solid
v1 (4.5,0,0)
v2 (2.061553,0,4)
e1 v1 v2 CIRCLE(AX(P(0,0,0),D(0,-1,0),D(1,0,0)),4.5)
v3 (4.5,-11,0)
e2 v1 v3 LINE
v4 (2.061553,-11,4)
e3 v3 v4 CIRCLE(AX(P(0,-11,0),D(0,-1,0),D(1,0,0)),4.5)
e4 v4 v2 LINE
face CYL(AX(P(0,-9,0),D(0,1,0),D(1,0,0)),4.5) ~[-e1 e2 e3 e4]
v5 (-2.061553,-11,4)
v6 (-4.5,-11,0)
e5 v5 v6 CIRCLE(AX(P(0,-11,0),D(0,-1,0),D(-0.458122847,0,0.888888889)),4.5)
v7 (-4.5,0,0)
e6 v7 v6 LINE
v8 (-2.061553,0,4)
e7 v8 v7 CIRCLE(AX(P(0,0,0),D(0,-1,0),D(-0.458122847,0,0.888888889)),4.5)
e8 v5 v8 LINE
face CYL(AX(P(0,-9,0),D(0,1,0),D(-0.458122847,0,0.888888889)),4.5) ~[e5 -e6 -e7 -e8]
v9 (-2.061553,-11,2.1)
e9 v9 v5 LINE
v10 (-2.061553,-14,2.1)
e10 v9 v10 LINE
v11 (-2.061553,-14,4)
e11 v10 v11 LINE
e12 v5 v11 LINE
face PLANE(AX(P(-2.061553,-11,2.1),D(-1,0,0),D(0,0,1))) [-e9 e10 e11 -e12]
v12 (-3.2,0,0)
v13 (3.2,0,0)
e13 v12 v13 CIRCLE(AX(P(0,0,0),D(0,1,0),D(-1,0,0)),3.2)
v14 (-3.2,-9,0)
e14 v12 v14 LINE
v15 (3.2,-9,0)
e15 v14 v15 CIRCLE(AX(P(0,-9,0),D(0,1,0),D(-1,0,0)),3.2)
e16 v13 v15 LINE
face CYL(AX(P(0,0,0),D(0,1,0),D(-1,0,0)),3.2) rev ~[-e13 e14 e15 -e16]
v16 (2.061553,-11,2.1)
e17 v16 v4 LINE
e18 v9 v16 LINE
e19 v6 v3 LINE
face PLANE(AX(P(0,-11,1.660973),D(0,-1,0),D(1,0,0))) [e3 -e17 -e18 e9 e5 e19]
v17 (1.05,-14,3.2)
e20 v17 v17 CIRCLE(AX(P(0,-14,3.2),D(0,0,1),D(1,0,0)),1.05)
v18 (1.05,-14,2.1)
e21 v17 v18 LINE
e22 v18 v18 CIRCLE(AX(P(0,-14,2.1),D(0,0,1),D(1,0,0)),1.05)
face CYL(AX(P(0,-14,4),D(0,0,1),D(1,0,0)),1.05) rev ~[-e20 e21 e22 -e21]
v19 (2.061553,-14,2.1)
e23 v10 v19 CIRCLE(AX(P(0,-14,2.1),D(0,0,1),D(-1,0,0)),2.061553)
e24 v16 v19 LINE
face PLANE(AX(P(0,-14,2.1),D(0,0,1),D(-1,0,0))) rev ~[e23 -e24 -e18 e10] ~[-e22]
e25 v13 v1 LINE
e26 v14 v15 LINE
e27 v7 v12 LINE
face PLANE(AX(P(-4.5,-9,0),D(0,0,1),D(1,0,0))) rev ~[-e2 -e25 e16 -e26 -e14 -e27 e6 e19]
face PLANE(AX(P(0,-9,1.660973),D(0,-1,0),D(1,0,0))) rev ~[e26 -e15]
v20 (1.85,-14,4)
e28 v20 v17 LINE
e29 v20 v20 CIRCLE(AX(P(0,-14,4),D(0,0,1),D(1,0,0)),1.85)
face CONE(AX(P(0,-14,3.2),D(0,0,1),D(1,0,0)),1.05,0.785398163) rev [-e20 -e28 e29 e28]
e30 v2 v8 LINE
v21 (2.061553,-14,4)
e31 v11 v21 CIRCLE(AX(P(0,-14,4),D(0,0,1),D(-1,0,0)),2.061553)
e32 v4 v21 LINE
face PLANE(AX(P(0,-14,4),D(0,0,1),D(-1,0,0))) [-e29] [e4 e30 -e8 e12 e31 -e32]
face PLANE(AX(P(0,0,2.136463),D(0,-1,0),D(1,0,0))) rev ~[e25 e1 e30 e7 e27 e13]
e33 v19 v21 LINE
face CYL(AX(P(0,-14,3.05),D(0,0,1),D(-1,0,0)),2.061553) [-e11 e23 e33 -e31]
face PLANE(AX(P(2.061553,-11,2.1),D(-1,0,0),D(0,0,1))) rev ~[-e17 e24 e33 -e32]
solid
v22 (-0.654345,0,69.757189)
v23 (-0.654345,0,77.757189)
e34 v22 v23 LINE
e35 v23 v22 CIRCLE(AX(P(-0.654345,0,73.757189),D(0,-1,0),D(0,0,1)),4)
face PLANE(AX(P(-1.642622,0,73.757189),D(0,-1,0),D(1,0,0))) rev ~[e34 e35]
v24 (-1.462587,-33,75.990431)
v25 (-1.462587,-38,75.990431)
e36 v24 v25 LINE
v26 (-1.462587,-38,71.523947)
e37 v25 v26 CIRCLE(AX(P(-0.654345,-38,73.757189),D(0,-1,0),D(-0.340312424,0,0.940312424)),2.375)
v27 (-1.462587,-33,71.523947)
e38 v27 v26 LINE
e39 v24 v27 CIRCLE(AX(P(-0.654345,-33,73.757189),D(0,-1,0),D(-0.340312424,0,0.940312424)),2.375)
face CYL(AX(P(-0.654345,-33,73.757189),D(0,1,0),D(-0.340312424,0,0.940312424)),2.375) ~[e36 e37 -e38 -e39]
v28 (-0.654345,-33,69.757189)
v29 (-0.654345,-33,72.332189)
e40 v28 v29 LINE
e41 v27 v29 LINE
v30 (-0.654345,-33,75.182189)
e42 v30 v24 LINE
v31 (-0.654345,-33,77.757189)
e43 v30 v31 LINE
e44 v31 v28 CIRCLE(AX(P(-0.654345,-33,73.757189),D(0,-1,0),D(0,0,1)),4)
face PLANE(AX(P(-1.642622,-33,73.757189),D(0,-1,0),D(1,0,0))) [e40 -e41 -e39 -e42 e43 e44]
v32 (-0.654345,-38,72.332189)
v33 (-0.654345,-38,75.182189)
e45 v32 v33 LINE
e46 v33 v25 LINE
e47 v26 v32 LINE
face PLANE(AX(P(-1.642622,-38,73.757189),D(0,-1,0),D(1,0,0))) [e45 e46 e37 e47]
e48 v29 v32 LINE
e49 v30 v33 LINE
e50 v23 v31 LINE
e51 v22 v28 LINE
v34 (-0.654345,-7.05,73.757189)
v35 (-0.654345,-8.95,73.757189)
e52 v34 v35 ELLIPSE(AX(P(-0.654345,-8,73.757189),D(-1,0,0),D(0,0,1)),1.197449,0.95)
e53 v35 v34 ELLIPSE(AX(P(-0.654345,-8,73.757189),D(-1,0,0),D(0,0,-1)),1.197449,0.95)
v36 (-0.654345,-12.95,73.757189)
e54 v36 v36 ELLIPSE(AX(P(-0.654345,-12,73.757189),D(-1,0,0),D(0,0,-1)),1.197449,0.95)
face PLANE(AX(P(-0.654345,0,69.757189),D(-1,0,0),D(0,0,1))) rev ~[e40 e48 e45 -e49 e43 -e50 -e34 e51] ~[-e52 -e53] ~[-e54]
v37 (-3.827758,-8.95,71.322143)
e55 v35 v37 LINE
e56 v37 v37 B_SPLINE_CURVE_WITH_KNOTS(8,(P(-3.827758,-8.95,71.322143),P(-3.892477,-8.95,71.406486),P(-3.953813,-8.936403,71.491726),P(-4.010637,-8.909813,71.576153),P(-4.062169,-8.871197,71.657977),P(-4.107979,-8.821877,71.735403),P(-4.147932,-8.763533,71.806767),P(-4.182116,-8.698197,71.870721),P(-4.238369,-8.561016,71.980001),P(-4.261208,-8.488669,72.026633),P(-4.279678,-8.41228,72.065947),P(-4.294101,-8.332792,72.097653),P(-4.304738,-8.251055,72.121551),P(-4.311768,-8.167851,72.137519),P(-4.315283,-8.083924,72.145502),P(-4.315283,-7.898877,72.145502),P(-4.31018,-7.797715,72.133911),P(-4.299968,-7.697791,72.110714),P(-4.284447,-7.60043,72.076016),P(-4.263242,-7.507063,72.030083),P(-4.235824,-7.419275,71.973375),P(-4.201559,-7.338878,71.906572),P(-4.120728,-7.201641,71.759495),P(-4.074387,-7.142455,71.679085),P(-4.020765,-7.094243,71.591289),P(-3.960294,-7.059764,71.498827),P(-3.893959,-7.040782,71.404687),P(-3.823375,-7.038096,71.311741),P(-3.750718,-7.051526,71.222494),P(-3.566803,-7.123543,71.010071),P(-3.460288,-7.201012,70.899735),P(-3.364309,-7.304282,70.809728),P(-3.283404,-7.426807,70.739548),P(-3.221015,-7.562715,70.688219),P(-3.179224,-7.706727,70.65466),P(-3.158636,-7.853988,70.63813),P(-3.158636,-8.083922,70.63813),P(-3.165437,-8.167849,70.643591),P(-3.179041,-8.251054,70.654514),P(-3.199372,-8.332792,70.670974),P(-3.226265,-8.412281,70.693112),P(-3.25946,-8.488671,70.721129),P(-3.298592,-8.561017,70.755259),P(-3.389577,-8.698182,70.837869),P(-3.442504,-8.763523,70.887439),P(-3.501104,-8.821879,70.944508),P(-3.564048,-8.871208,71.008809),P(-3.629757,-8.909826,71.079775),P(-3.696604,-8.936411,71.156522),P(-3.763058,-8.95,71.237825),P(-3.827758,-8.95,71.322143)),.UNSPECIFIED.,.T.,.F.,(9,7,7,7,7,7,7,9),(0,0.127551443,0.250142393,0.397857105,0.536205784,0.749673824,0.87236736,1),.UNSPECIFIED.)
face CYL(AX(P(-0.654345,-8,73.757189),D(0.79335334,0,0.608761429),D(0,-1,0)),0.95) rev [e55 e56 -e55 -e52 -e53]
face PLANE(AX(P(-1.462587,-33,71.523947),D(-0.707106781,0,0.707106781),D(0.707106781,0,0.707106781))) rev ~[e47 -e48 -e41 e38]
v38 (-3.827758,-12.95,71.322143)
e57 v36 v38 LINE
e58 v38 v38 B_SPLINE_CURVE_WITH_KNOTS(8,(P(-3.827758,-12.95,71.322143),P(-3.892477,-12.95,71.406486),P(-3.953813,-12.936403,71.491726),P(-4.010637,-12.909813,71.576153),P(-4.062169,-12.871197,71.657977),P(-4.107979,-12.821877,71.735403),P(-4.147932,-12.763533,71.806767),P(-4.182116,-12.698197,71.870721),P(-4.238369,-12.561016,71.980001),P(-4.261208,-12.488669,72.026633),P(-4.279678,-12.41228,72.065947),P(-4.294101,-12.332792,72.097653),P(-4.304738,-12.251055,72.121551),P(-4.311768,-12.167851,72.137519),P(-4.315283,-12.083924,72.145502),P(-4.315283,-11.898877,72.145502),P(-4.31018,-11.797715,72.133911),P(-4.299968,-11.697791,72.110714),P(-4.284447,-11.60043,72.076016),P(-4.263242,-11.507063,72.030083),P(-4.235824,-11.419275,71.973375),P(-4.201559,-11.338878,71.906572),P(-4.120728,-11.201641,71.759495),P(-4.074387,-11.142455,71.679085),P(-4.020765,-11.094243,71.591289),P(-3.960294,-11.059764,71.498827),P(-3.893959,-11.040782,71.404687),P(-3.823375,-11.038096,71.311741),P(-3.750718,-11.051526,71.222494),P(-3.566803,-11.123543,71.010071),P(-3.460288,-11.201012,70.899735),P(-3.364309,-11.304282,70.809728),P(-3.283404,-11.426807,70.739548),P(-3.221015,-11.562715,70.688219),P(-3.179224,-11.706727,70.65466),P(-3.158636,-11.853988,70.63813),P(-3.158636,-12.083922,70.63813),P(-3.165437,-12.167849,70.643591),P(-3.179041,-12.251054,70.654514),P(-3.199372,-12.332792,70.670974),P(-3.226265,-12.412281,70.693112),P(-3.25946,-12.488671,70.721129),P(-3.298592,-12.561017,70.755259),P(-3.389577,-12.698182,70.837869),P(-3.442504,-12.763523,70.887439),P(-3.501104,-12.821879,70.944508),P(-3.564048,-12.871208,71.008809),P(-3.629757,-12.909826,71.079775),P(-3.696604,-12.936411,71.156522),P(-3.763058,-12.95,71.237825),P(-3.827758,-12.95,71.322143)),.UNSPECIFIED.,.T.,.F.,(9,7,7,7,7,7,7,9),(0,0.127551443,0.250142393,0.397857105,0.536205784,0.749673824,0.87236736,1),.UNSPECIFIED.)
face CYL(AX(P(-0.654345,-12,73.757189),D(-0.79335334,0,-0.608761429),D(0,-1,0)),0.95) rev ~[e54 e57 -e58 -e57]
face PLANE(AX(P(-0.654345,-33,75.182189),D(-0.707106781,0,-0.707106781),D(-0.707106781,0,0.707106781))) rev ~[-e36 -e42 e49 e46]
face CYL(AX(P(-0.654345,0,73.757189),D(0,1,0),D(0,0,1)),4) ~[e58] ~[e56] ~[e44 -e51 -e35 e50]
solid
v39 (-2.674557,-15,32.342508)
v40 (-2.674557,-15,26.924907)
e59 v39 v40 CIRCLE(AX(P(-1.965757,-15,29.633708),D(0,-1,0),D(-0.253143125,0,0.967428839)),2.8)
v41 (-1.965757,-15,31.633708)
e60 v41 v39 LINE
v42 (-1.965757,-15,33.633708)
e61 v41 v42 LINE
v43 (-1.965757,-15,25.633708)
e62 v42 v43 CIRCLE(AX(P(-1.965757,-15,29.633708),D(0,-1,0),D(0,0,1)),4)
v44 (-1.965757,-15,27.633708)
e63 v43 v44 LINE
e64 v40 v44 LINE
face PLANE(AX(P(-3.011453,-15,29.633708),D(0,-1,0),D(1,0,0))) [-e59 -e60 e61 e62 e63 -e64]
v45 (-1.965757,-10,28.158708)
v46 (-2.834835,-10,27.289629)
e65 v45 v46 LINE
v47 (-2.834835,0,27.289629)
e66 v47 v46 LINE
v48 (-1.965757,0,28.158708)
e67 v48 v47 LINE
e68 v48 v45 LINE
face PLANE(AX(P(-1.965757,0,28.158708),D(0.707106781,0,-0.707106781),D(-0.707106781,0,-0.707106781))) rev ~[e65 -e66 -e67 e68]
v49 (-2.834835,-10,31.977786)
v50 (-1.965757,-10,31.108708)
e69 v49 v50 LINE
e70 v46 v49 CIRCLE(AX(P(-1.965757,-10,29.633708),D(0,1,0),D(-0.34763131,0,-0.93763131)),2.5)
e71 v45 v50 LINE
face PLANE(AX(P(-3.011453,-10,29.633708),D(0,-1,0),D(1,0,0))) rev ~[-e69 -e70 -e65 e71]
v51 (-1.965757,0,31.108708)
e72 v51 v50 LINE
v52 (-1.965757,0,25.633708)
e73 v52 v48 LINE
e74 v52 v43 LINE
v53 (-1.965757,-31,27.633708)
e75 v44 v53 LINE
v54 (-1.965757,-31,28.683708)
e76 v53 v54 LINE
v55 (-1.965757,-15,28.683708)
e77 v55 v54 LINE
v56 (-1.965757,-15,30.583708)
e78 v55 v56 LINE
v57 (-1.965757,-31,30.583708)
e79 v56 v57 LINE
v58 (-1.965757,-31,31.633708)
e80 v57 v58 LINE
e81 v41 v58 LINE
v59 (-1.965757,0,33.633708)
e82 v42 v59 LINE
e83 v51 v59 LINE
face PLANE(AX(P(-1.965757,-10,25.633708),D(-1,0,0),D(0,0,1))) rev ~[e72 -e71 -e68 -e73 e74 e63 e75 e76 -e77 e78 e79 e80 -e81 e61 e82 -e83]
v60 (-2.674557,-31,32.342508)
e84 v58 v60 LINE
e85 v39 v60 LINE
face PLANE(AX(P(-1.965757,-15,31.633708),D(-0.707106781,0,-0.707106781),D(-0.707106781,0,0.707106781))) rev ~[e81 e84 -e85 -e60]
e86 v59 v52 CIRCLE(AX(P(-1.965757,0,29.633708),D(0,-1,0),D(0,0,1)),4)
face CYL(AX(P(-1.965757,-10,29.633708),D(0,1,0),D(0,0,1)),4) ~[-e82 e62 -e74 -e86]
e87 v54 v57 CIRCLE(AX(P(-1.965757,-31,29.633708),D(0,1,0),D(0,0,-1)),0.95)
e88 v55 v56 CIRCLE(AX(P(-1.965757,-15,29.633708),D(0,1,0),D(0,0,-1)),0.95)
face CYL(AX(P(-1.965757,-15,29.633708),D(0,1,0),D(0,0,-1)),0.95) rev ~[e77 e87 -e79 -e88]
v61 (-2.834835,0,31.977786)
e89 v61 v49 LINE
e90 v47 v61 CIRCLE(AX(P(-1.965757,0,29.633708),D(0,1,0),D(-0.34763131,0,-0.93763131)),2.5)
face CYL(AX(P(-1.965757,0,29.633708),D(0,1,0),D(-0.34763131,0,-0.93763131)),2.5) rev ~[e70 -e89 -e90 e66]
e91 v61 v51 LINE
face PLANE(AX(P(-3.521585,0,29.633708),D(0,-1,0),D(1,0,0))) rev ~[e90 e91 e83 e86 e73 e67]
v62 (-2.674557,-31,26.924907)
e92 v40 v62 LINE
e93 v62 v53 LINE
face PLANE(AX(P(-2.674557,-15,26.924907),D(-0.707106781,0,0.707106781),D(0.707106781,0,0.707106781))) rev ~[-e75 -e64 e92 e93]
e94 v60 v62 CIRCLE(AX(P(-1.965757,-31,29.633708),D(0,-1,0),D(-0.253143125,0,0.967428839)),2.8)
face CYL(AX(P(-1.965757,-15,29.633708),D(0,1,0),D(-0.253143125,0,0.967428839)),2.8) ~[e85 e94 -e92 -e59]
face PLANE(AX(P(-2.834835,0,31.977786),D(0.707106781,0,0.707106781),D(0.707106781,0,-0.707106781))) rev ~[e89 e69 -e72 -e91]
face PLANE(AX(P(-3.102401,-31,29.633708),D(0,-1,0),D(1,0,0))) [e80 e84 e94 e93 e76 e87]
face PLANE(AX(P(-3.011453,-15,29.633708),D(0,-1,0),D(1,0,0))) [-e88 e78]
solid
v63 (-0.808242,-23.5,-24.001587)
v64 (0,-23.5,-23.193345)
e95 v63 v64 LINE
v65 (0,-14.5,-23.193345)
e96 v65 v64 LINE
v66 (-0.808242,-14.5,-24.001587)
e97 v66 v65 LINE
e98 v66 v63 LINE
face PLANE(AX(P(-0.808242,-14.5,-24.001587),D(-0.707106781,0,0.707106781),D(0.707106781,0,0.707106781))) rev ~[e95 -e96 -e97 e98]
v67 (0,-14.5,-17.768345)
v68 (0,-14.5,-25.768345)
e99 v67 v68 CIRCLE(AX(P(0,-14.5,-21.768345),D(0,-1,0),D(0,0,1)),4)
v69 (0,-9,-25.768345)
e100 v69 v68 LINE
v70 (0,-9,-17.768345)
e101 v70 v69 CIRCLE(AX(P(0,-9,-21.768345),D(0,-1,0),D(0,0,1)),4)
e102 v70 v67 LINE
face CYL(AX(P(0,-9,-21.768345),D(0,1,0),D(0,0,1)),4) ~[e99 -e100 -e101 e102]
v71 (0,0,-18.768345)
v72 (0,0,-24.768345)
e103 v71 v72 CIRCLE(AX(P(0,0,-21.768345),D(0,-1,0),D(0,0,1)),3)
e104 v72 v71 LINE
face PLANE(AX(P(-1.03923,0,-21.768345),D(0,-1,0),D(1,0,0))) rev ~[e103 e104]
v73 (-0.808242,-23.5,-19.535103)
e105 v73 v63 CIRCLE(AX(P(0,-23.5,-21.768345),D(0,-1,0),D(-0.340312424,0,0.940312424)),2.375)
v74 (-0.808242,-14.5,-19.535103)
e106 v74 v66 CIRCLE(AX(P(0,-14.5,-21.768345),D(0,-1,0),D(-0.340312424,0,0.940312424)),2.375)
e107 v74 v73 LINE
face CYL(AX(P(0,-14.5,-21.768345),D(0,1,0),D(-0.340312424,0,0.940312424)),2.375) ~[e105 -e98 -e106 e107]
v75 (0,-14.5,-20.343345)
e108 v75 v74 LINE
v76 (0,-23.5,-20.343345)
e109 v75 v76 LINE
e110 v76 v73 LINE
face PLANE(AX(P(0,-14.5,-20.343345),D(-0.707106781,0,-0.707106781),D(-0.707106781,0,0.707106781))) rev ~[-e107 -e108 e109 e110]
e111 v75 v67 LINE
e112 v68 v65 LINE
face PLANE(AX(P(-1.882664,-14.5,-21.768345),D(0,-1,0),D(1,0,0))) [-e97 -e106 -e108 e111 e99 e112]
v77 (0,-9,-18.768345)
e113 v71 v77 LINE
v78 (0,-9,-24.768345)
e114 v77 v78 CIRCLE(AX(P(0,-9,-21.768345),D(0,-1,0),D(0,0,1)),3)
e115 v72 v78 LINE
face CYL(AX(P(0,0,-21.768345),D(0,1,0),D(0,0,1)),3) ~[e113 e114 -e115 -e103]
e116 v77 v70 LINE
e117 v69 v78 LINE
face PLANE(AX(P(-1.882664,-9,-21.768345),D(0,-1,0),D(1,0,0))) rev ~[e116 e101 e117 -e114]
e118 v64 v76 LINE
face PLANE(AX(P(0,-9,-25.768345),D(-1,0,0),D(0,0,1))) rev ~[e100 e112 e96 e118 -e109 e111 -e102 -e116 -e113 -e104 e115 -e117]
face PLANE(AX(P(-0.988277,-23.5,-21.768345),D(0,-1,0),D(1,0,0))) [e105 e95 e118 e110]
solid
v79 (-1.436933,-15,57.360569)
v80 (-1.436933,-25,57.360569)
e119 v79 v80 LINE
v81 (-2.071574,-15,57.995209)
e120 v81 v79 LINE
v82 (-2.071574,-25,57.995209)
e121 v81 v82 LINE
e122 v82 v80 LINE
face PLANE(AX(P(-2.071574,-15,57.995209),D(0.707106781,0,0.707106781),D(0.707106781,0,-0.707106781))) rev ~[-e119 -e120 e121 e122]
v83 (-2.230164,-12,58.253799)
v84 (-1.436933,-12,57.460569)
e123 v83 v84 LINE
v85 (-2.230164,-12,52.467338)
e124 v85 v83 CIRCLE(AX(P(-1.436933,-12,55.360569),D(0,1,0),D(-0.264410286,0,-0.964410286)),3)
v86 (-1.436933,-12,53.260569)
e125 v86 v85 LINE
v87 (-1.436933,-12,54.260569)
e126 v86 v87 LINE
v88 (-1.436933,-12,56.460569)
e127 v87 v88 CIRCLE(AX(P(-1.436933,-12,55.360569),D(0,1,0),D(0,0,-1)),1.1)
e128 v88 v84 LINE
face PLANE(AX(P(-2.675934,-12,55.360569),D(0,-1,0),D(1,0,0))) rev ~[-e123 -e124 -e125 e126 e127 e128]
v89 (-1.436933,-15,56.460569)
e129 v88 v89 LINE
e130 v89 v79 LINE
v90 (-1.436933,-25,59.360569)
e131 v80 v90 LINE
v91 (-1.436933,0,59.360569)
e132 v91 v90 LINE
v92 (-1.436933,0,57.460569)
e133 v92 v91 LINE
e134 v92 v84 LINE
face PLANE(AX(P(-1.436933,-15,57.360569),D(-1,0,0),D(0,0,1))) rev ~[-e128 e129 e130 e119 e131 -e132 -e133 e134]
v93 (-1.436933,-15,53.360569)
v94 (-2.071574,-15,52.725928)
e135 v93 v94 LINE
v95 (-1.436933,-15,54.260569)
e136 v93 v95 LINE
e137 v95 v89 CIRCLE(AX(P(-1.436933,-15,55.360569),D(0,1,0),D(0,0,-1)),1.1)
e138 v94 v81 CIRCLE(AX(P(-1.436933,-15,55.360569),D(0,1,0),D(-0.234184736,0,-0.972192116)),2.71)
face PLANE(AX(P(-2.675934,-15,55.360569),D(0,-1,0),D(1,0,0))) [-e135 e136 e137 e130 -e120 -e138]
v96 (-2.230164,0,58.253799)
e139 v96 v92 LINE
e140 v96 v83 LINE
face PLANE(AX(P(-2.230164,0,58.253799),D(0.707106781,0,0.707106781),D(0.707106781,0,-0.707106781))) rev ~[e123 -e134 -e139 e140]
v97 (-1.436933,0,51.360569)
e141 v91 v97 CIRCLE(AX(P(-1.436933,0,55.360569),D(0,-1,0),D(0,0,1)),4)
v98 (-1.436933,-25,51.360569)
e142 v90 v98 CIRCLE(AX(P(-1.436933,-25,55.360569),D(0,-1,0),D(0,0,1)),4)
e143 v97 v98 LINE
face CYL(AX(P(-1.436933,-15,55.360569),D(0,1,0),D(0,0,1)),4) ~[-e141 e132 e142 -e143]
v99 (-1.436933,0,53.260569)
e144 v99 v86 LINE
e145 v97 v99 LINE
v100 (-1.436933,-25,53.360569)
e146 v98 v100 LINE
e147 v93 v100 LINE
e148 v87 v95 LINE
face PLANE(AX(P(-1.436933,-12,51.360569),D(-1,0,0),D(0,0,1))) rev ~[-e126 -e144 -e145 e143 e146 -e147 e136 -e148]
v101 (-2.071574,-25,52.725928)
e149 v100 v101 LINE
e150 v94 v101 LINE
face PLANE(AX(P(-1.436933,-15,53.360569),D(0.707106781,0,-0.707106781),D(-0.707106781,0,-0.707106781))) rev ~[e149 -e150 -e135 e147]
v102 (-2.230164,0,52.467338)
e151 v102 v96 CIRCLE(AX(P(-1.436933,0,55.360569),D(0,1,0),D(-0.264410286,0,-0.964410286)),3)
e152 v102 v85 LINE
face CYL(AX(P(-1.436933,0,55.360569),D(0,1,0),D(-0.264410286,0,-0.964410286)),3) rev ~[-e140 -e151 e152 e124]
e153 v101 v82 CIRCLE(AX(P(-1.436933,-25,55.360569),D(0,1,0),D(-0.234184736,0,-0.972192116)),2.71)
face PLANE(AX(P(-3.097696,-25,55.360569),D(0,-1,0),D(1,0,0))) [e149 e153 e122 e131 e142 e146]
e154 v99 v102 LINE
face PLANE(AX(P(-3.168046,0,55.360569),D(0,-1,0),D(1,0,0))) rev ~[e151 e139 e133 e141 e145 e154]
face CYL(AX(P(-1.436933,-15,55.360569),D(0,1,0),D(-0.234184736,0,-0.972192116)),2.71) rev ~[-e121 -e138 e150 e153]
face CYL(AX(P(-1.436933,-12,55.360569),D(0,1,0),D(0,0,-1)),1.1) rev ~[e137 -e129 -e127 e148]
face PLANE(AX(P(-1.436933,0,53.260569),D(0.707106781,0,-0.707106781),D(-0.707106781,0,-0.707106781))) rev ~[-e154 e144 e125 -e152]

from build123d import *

# Parameters (mm, degrees)
F1_DEPTH      = 9
F3_DEPTH      = 2
F4_W          = 4.1231056256
F4_H          = 1.9
F5_DEPTH      = 3
F6_W          = 2.0615528128
F6_H          = 1.9
F8_R          = 1.05
F9_DEPTH      = 2
F9_DEPTH_BACK = 25
F11_DEPTH     = 9
F13_DEPTH     = 5.5
F15_DEPTH     = 9
F17_DEPTH     = 10
F19_DEPTH     = 5
F21_DEPTH     = 16
F23_DEPTH     = 12
F25_DEPTH     = 3
F27_DEPTH     = 10
F29_DEPTH     = 33
F31_DEPTH     = 5
F32_SIZE      = 0.8
F35_R         = 0.95
F36_DEPTH     = 12.5


with BuildPart() as f1:
    # F0 (on Front) → F1 (new body)
    with BuildSketch(Plane.XZ):
        with BuildLine():
            Line((2.0615528128, 4), (0, 4))
            Line((0, 4), (-2.0615528128, 4))
            ThreePointArc((-2.0615528128, 4), (-3.8423292192, 2.3423292192), (-4.5, 0))
            Line((-4.5, 0), (-3.2, 0))
            ThreePointArc((-3.2, 0), (0, 3.2), (3.2, 0))
            Line((3.2, 0), (4.5, 0))
            ThreePointArc((4.5, 0), (3.8423292192, 2.3423292192), (2.0615528128, 4))
        make_face()
    extrude(amount=F1_DEPTH)

    # F2 (on face) → F3 (join)
    with BuildSketch(Plane.XZ.offset(9)):
        with BuildLine():
            ThreePointArc((-2.0615528128, 4), (-3.8423292192, 2.3423292192), (-4.5, 0))
            Line((-4.5, 0), (4.5, 0))
            ThreePointArc((4.5, 0), (3.8423292192, 2.3423292192), (2.0615528128, 4))
            Line((2.0615528128, 4), (-2.0615528128, 4))
        make_face()
    extrude(amount=F3_DEPTH)

    # F4 (on face) → F5 (join)
    with BuildSketch(Plane.XZ.offset(11)):
        with Locations((0, 3.05)):
            Rectangle(F4_W, F4_H)
    extrude(amount=F5_DEPTH)

    # F6 (on face) → F7 (revolve)
    with BuildSketch(Plane.XZ.offset(14)):
        with Locations((-1.0307764064, 3.05)):
            Rectangle(F6_W, F6_H)
    revolve(axis=Axis((0, -14, 3.05), (0, 0, 1)))

    # F8 (on face) → F9 (cut, two sides)
    with BuildSketch(Plane.XY.offset(4)) as f9_sk:
        with Locations((0, -14)):
            Circle(F8_R)
    extrude(amount=-F9_DEPTH, mode=Mode.SUBTRACT)
    extrude(f9_sk.sketch, amount=F9_DEPTH_BACK, mode=Mode.SUBTRACT)

    # F32
    f32_edges = [f1.edges().sort_by_distance(p)[0] for p in [
        (-1.05, -14, 4),
    ]]
    chamfer(f32_edges, length=F32_SIZE)


with BuildPart() as f11:
    # F10 (on Front) → F11 (new body)
    with BuildSketch(Plane.XZ):
        with BuildLine():
            ThreePointArc((0, -18.768345058), (-3, -21.768345058), (0, -24.768345058))
            Line((0, -24.768345058), (0, -18.768345058))
        make_face()
    extrude(amount=F11_DEPTH)

    # F12 (on face) → F13 (join)
    with BuildSketch(Plane.XZ.offset(9)):
        with BuildLine():
            Line((0, -18.768345058), (0, -17.768345058))
            ThreePointArc((0, -17.768345058), (-4, -21.768345058), (0, -25.768345058))
            Line((0, -25.768345058), (0, -24.768345058))
            ThreePointArc((0, -24.768345058), (-3, -21.768345058), (0, -18.768345058))
        make_face()
        with BuildLine():
            Line((0, -24.768345058), (0, -18.768345058))
            ThreePointArc((0, -18.768345058), (-3, -21.768345058), (0, -24.768345058))
        make_face()
    extrude(amount=F13_DEPTH)

    # F14 (on face) → F15 (join)
    with BuildSketch(Plane.XZ.offset(14.5)):
        with BuildLine():
            Line((0, -23.193345058), (0, -21.768345058))
            Line((0, -21.768345058), (0, -20.343345058))
            Line((0, -20.343345058), (-0.8082420064, -19.5351030516))
            ThreePointArc((-0.8082420064, -19.5351030516), (-2.375, -21.768345058), (-0.8082420064, -24.0015870644))
            Line((-0.8082420064, -24.0015870644), (0, -23.193345058))
        make_face()
    extrude(amount=F15_DEPTH)


with BuildPart() as f17:
    # F16 (on Front) → F17 (new body)
    with BuildSketch(Plane.XZ):
        with BuildLine():
            Line((-1.9657567435, 28.1587075442), (-2.8348350173, 27.2896292704))
            ThreePointArc((-2.8348350173, 27.2896292704), (-4.4657567435, 29.6337075442), (-2.8348350173, 31.9777858181))
            Line((-2.8348350173, 31.9777858181), (-1.9657567435, 31.1087075442))
            Line((-1.9657567435, 31.1087075442), (-1.9657567435, 33.6337075442))
            ThreePointArc((-1.9657567435, 33.6337075442), (-5.9657567435, 29.6337075442), (-1.9657567435, 25.6337075442))
            Line((-1.9657567435, 25.6337075442), (-1.9657567435, 28.1587075442))
        make_face()
    extrude(amount=F17_DEPTH)

    # F18 (on face) → F19 (join)
    with BuildSketch(Plane.XZ.offset(10)):
        with BuildLine():
            Line((-2.8348350173, 27.2896292704), (-1.9657567435, 28.1587075442))
            Line((-1.9657567435, 28.1587075442), (-1.9657567435, 31.1087075442))
            Line((-1.9657567435, 31.1087075442), (-2.8348350173, 31.9777858181))
            ThreePointArc((-2.8348350173, 31.9777858181), (-4.4657567435, 29.6337075442), (-2.8348350173, 27.2896292704))
        make_face()
        with BuildLine():
            Line((-1.9657567435, 25.6337075442), (-1.9657567435, 28.1587075442))
            Line((-1.9657567435, 28.1587075442), (-2.8348350173, 27.2896292704))
            ThreePointArc((-2.8348350173, 27.2896292704), (-4.4657567435, 29.6337075442), (-2.8348350173, 31.9777858181))
            Line((-2.8348350173, 31.9777858181), (-1.9657567435, 31.1087075442))
            Line((-1.9657567435, 31.1087075442), (-1.9657567435, 33.6337075442))
            ThreePointArc((-1.9657567435, 33.6337075442), (-5.9657567435, 29.6337075442), (-1.9657567435, 25.6337075442))
        make_face()
    extrude(amount=F19_DEPTH)

    # F20 (on face) → F21 (join)
    with BuildSketch(Plane.XZ.offset(15)):
        with BuildLine():
            Line((-1.9657567435, 31.6337075442), (-2.6745574926, 32.3425082933))
            ThreePointArc((-2.6745574926, 32.3425082933), (-4.7657567435, 29.6337075442), (-2.6745574926, 26.9249067951))
            Line((-2.6745574926, 26.9249067951), (-1.9657567435, 27.6337075442))
            Line((-1.9657567435, 27.6337075442), (-1.9657567435, 28.6837075442))
            ThreePointArc((-1.9657567435, 28.6837075442), (-2.9157567435, 29.6337075442), (-1.9657567435, 30.5837075442))
            Line((-1.9657567435, 30.5837075442), (-1.9657567435, 31.6337075442))
        make_face()
    extrude(amount=F21_DEPTH)


with BuildPart() as f23:
    # F22 (on Front) → F23 (new body)
    with BuildSketch(Plane.XZ):
        with BuildLine():
            Line((-1.436933299, 53.2605685294), (-2.2301641581, 52.4673376703))
            ThreePointArc((-2.2301641581, 52.4673376703), (-4.436933299, 55.3605685294), (-2.2301641581, 58.2537993885))
            Line((-2.2301641581, 58.2537993885), (-1.436933299, 57.4605685294))
            Line((-1.436933299, 57.4605685294), (-1.436933299, 59.3605685294))
            ThreePointArc((-1.436933299, 59.3605685294), (-5.436933299, 55.3605685294), (-1.436933299, 51.3605685294))
            Line((-1.436933299, 51.3605685294), (-1.436933299, 53.2605685294))
        make_face()
    extrude(amount=F23_DEPTH)

    # F24 (on face) → F25 (join)
    with BuildSketch(Plane.XZ.offset(12)):
        with BuildLine():
            Line((-2.2301641581, 52.4673376703), (-1.436933299, 53.2605685294))
            Line((-1.436933299, 53.2605685294), (-1.436933299, 54.2605685294))
            ThreePointArc((-1.436933299, 54.2605685294), (-2.536933299, 55.3605685294), (-1.436933299, 56.4605685294))
            Line((-1.436933299, 56.4605685294), (-1.436933299, 57.4605685294))
            Line((-1.436933299, 57.4605685294), (-2.2301641581, 58.2537993885))
            ThreePointArc((-2.2301641581, 58.2537993885), (-4.436933299, 55.3605685294), (-2.2301641581, 52.4673376703))
        make_face()
        with BuildLine():
            Line((-1.436933299, 51.3605685294), (-1.436933299, 53.2605685294))
            Line((-1.436933299, 53.2605685294), (-2.2301641581, 52.4673376703))
            ThreePointArc((-2.2301641581, 52.4673376703), (-4.436933299, 55.3605685294), (-2.2301641581, 58.2537993885))
            Line((-2.2301641581, 58.2537993885), (-1.436933299, 57.4605685294))
            Line((-1.436933299, 57.4605685294), (-1.436933299, 59.3605685294))
            ThreePointArc((-1.436933299, 59.3605685294), (-5.436933299, 55.3605685294), (-1.436933299, 51.3605685294))
        make_face()
    extrude(amount=F25_DEPTH)

    # F26 (on face) → F27 (join)
    with BuildSketch(Plane.XZ.offset(15)):
        with BuildLine():
            Line((-2.0715739323, 57.9952091627), (-1.436933299, 57.3605685294))
            Line((-1.436933299, 57.3605685294), (-1.436933299, 59.3605685294))
            ThreePointArc((-1.436933299, 59.3605685294), (-5.436933299, 55.3605685294), (-1.436933299, 51.3605685294))
            Line((-1.436933299, 51.3605685294), (-1.436933299, 53.3605685294))
            Line((-1.436933299, 53.3605685294), (-2.0715739323, 52.7259278961))
            ThreePointArc((-2.0715739323, 52.7259278961), (-4.146933299, 55.3605685294), (-2.0715739323, 57.9952091627))
        make_face()
    extrude(amount=F27_DEPTH)


with BuildPart() as f29:
    # F28 (on Front) → F29 (new body)
    with BuildSketch(Plane.XZ):
        with BuildLine():
            Line((-0.6543450763, 72.3321891785), (-0.6543450763, 73.7571891785))
            Line((-0.6543450763, 73.7571891785), (-0.6543450763, 75.1821891785))
            Line((-0.6543450763, 75.1821891785), (-1.4625870826, 75.9904311849))
            ThreePointArc((-1.4625870826, 75.9904311849), (-3.0293450763, 73.7571891785), (-1.4625870826, 71.5239471721))
            Line((-1.4625870826, 71.5239471721), (-0.6543450763, 72.3321891785))
        make_face()
        with BuildLine():
            Line((-0.6543450763, 69.7571891785), (-0.6543450763, 72.3321891785))
            Line((-0.6543450763, 72.3321891785), (-1.4625870826, 71.5239471721))
            ThreePointArc((-1.4625870826, 71.5239471721), (-3.0293450763, 73.7571891785), (-1.4625870826, 75.9904311849))
            Line((-1.4625870826, 75.9904311849), (-0.6543450763, 75.1821891785))
            Line((-0.6543450763, 75.1821891785), (-0.6543450763, 77.7571891785))
            ThreePointArc((-0.6543450763, 77.7571891785), (-4.6543450763, 73.7571891785), (-0.6543450763, 69.7571891785))
        make_face()
    extrude(amount=F29_DEPTH)

    # F30 (on face) → F31 (join)
    with BuildSketch(Plane.XZ.offset(33)):
        with BuildLine():
            ThreePointArc((-1.4625870826, 75.9904311849), (-3.0293450763, 73.7571891785), (-1.4625870826, 71.5239471721))
            Line((-1.4625870826, 71.5239471721), (-0.6543450763, 72.3321891785))
            Line((-0.6543450763, 72.3321891785), (-0.6543450763, 75.1821891785))
            Line((-0.6543450763, 75.1821891785), (-1.4625870826, 75.9904311849))
        make_face()
    extrude(amount=F31_DEPTH)

    # F35 (on line) → F36 (cut, symmetric)
    with BuildSketch(Plane(origin=(35.210135929, 0, 27.0176875487), x_dir=(0, -1, 0), z_dir=(-0.7933533403, 0, -0.608761429))):
        with Locations((8, 58.9138524489)):
            Circle(F35_R)
        with Locations((12, 58.9138524489)):
            Circle(F35_R)
    extrude(amount=F36_DEPTH, both=True, mode=Mode.SUBTRACT)


solid = Compound([f1.part, f11.part, f17.part, f23.part, f29.part])
